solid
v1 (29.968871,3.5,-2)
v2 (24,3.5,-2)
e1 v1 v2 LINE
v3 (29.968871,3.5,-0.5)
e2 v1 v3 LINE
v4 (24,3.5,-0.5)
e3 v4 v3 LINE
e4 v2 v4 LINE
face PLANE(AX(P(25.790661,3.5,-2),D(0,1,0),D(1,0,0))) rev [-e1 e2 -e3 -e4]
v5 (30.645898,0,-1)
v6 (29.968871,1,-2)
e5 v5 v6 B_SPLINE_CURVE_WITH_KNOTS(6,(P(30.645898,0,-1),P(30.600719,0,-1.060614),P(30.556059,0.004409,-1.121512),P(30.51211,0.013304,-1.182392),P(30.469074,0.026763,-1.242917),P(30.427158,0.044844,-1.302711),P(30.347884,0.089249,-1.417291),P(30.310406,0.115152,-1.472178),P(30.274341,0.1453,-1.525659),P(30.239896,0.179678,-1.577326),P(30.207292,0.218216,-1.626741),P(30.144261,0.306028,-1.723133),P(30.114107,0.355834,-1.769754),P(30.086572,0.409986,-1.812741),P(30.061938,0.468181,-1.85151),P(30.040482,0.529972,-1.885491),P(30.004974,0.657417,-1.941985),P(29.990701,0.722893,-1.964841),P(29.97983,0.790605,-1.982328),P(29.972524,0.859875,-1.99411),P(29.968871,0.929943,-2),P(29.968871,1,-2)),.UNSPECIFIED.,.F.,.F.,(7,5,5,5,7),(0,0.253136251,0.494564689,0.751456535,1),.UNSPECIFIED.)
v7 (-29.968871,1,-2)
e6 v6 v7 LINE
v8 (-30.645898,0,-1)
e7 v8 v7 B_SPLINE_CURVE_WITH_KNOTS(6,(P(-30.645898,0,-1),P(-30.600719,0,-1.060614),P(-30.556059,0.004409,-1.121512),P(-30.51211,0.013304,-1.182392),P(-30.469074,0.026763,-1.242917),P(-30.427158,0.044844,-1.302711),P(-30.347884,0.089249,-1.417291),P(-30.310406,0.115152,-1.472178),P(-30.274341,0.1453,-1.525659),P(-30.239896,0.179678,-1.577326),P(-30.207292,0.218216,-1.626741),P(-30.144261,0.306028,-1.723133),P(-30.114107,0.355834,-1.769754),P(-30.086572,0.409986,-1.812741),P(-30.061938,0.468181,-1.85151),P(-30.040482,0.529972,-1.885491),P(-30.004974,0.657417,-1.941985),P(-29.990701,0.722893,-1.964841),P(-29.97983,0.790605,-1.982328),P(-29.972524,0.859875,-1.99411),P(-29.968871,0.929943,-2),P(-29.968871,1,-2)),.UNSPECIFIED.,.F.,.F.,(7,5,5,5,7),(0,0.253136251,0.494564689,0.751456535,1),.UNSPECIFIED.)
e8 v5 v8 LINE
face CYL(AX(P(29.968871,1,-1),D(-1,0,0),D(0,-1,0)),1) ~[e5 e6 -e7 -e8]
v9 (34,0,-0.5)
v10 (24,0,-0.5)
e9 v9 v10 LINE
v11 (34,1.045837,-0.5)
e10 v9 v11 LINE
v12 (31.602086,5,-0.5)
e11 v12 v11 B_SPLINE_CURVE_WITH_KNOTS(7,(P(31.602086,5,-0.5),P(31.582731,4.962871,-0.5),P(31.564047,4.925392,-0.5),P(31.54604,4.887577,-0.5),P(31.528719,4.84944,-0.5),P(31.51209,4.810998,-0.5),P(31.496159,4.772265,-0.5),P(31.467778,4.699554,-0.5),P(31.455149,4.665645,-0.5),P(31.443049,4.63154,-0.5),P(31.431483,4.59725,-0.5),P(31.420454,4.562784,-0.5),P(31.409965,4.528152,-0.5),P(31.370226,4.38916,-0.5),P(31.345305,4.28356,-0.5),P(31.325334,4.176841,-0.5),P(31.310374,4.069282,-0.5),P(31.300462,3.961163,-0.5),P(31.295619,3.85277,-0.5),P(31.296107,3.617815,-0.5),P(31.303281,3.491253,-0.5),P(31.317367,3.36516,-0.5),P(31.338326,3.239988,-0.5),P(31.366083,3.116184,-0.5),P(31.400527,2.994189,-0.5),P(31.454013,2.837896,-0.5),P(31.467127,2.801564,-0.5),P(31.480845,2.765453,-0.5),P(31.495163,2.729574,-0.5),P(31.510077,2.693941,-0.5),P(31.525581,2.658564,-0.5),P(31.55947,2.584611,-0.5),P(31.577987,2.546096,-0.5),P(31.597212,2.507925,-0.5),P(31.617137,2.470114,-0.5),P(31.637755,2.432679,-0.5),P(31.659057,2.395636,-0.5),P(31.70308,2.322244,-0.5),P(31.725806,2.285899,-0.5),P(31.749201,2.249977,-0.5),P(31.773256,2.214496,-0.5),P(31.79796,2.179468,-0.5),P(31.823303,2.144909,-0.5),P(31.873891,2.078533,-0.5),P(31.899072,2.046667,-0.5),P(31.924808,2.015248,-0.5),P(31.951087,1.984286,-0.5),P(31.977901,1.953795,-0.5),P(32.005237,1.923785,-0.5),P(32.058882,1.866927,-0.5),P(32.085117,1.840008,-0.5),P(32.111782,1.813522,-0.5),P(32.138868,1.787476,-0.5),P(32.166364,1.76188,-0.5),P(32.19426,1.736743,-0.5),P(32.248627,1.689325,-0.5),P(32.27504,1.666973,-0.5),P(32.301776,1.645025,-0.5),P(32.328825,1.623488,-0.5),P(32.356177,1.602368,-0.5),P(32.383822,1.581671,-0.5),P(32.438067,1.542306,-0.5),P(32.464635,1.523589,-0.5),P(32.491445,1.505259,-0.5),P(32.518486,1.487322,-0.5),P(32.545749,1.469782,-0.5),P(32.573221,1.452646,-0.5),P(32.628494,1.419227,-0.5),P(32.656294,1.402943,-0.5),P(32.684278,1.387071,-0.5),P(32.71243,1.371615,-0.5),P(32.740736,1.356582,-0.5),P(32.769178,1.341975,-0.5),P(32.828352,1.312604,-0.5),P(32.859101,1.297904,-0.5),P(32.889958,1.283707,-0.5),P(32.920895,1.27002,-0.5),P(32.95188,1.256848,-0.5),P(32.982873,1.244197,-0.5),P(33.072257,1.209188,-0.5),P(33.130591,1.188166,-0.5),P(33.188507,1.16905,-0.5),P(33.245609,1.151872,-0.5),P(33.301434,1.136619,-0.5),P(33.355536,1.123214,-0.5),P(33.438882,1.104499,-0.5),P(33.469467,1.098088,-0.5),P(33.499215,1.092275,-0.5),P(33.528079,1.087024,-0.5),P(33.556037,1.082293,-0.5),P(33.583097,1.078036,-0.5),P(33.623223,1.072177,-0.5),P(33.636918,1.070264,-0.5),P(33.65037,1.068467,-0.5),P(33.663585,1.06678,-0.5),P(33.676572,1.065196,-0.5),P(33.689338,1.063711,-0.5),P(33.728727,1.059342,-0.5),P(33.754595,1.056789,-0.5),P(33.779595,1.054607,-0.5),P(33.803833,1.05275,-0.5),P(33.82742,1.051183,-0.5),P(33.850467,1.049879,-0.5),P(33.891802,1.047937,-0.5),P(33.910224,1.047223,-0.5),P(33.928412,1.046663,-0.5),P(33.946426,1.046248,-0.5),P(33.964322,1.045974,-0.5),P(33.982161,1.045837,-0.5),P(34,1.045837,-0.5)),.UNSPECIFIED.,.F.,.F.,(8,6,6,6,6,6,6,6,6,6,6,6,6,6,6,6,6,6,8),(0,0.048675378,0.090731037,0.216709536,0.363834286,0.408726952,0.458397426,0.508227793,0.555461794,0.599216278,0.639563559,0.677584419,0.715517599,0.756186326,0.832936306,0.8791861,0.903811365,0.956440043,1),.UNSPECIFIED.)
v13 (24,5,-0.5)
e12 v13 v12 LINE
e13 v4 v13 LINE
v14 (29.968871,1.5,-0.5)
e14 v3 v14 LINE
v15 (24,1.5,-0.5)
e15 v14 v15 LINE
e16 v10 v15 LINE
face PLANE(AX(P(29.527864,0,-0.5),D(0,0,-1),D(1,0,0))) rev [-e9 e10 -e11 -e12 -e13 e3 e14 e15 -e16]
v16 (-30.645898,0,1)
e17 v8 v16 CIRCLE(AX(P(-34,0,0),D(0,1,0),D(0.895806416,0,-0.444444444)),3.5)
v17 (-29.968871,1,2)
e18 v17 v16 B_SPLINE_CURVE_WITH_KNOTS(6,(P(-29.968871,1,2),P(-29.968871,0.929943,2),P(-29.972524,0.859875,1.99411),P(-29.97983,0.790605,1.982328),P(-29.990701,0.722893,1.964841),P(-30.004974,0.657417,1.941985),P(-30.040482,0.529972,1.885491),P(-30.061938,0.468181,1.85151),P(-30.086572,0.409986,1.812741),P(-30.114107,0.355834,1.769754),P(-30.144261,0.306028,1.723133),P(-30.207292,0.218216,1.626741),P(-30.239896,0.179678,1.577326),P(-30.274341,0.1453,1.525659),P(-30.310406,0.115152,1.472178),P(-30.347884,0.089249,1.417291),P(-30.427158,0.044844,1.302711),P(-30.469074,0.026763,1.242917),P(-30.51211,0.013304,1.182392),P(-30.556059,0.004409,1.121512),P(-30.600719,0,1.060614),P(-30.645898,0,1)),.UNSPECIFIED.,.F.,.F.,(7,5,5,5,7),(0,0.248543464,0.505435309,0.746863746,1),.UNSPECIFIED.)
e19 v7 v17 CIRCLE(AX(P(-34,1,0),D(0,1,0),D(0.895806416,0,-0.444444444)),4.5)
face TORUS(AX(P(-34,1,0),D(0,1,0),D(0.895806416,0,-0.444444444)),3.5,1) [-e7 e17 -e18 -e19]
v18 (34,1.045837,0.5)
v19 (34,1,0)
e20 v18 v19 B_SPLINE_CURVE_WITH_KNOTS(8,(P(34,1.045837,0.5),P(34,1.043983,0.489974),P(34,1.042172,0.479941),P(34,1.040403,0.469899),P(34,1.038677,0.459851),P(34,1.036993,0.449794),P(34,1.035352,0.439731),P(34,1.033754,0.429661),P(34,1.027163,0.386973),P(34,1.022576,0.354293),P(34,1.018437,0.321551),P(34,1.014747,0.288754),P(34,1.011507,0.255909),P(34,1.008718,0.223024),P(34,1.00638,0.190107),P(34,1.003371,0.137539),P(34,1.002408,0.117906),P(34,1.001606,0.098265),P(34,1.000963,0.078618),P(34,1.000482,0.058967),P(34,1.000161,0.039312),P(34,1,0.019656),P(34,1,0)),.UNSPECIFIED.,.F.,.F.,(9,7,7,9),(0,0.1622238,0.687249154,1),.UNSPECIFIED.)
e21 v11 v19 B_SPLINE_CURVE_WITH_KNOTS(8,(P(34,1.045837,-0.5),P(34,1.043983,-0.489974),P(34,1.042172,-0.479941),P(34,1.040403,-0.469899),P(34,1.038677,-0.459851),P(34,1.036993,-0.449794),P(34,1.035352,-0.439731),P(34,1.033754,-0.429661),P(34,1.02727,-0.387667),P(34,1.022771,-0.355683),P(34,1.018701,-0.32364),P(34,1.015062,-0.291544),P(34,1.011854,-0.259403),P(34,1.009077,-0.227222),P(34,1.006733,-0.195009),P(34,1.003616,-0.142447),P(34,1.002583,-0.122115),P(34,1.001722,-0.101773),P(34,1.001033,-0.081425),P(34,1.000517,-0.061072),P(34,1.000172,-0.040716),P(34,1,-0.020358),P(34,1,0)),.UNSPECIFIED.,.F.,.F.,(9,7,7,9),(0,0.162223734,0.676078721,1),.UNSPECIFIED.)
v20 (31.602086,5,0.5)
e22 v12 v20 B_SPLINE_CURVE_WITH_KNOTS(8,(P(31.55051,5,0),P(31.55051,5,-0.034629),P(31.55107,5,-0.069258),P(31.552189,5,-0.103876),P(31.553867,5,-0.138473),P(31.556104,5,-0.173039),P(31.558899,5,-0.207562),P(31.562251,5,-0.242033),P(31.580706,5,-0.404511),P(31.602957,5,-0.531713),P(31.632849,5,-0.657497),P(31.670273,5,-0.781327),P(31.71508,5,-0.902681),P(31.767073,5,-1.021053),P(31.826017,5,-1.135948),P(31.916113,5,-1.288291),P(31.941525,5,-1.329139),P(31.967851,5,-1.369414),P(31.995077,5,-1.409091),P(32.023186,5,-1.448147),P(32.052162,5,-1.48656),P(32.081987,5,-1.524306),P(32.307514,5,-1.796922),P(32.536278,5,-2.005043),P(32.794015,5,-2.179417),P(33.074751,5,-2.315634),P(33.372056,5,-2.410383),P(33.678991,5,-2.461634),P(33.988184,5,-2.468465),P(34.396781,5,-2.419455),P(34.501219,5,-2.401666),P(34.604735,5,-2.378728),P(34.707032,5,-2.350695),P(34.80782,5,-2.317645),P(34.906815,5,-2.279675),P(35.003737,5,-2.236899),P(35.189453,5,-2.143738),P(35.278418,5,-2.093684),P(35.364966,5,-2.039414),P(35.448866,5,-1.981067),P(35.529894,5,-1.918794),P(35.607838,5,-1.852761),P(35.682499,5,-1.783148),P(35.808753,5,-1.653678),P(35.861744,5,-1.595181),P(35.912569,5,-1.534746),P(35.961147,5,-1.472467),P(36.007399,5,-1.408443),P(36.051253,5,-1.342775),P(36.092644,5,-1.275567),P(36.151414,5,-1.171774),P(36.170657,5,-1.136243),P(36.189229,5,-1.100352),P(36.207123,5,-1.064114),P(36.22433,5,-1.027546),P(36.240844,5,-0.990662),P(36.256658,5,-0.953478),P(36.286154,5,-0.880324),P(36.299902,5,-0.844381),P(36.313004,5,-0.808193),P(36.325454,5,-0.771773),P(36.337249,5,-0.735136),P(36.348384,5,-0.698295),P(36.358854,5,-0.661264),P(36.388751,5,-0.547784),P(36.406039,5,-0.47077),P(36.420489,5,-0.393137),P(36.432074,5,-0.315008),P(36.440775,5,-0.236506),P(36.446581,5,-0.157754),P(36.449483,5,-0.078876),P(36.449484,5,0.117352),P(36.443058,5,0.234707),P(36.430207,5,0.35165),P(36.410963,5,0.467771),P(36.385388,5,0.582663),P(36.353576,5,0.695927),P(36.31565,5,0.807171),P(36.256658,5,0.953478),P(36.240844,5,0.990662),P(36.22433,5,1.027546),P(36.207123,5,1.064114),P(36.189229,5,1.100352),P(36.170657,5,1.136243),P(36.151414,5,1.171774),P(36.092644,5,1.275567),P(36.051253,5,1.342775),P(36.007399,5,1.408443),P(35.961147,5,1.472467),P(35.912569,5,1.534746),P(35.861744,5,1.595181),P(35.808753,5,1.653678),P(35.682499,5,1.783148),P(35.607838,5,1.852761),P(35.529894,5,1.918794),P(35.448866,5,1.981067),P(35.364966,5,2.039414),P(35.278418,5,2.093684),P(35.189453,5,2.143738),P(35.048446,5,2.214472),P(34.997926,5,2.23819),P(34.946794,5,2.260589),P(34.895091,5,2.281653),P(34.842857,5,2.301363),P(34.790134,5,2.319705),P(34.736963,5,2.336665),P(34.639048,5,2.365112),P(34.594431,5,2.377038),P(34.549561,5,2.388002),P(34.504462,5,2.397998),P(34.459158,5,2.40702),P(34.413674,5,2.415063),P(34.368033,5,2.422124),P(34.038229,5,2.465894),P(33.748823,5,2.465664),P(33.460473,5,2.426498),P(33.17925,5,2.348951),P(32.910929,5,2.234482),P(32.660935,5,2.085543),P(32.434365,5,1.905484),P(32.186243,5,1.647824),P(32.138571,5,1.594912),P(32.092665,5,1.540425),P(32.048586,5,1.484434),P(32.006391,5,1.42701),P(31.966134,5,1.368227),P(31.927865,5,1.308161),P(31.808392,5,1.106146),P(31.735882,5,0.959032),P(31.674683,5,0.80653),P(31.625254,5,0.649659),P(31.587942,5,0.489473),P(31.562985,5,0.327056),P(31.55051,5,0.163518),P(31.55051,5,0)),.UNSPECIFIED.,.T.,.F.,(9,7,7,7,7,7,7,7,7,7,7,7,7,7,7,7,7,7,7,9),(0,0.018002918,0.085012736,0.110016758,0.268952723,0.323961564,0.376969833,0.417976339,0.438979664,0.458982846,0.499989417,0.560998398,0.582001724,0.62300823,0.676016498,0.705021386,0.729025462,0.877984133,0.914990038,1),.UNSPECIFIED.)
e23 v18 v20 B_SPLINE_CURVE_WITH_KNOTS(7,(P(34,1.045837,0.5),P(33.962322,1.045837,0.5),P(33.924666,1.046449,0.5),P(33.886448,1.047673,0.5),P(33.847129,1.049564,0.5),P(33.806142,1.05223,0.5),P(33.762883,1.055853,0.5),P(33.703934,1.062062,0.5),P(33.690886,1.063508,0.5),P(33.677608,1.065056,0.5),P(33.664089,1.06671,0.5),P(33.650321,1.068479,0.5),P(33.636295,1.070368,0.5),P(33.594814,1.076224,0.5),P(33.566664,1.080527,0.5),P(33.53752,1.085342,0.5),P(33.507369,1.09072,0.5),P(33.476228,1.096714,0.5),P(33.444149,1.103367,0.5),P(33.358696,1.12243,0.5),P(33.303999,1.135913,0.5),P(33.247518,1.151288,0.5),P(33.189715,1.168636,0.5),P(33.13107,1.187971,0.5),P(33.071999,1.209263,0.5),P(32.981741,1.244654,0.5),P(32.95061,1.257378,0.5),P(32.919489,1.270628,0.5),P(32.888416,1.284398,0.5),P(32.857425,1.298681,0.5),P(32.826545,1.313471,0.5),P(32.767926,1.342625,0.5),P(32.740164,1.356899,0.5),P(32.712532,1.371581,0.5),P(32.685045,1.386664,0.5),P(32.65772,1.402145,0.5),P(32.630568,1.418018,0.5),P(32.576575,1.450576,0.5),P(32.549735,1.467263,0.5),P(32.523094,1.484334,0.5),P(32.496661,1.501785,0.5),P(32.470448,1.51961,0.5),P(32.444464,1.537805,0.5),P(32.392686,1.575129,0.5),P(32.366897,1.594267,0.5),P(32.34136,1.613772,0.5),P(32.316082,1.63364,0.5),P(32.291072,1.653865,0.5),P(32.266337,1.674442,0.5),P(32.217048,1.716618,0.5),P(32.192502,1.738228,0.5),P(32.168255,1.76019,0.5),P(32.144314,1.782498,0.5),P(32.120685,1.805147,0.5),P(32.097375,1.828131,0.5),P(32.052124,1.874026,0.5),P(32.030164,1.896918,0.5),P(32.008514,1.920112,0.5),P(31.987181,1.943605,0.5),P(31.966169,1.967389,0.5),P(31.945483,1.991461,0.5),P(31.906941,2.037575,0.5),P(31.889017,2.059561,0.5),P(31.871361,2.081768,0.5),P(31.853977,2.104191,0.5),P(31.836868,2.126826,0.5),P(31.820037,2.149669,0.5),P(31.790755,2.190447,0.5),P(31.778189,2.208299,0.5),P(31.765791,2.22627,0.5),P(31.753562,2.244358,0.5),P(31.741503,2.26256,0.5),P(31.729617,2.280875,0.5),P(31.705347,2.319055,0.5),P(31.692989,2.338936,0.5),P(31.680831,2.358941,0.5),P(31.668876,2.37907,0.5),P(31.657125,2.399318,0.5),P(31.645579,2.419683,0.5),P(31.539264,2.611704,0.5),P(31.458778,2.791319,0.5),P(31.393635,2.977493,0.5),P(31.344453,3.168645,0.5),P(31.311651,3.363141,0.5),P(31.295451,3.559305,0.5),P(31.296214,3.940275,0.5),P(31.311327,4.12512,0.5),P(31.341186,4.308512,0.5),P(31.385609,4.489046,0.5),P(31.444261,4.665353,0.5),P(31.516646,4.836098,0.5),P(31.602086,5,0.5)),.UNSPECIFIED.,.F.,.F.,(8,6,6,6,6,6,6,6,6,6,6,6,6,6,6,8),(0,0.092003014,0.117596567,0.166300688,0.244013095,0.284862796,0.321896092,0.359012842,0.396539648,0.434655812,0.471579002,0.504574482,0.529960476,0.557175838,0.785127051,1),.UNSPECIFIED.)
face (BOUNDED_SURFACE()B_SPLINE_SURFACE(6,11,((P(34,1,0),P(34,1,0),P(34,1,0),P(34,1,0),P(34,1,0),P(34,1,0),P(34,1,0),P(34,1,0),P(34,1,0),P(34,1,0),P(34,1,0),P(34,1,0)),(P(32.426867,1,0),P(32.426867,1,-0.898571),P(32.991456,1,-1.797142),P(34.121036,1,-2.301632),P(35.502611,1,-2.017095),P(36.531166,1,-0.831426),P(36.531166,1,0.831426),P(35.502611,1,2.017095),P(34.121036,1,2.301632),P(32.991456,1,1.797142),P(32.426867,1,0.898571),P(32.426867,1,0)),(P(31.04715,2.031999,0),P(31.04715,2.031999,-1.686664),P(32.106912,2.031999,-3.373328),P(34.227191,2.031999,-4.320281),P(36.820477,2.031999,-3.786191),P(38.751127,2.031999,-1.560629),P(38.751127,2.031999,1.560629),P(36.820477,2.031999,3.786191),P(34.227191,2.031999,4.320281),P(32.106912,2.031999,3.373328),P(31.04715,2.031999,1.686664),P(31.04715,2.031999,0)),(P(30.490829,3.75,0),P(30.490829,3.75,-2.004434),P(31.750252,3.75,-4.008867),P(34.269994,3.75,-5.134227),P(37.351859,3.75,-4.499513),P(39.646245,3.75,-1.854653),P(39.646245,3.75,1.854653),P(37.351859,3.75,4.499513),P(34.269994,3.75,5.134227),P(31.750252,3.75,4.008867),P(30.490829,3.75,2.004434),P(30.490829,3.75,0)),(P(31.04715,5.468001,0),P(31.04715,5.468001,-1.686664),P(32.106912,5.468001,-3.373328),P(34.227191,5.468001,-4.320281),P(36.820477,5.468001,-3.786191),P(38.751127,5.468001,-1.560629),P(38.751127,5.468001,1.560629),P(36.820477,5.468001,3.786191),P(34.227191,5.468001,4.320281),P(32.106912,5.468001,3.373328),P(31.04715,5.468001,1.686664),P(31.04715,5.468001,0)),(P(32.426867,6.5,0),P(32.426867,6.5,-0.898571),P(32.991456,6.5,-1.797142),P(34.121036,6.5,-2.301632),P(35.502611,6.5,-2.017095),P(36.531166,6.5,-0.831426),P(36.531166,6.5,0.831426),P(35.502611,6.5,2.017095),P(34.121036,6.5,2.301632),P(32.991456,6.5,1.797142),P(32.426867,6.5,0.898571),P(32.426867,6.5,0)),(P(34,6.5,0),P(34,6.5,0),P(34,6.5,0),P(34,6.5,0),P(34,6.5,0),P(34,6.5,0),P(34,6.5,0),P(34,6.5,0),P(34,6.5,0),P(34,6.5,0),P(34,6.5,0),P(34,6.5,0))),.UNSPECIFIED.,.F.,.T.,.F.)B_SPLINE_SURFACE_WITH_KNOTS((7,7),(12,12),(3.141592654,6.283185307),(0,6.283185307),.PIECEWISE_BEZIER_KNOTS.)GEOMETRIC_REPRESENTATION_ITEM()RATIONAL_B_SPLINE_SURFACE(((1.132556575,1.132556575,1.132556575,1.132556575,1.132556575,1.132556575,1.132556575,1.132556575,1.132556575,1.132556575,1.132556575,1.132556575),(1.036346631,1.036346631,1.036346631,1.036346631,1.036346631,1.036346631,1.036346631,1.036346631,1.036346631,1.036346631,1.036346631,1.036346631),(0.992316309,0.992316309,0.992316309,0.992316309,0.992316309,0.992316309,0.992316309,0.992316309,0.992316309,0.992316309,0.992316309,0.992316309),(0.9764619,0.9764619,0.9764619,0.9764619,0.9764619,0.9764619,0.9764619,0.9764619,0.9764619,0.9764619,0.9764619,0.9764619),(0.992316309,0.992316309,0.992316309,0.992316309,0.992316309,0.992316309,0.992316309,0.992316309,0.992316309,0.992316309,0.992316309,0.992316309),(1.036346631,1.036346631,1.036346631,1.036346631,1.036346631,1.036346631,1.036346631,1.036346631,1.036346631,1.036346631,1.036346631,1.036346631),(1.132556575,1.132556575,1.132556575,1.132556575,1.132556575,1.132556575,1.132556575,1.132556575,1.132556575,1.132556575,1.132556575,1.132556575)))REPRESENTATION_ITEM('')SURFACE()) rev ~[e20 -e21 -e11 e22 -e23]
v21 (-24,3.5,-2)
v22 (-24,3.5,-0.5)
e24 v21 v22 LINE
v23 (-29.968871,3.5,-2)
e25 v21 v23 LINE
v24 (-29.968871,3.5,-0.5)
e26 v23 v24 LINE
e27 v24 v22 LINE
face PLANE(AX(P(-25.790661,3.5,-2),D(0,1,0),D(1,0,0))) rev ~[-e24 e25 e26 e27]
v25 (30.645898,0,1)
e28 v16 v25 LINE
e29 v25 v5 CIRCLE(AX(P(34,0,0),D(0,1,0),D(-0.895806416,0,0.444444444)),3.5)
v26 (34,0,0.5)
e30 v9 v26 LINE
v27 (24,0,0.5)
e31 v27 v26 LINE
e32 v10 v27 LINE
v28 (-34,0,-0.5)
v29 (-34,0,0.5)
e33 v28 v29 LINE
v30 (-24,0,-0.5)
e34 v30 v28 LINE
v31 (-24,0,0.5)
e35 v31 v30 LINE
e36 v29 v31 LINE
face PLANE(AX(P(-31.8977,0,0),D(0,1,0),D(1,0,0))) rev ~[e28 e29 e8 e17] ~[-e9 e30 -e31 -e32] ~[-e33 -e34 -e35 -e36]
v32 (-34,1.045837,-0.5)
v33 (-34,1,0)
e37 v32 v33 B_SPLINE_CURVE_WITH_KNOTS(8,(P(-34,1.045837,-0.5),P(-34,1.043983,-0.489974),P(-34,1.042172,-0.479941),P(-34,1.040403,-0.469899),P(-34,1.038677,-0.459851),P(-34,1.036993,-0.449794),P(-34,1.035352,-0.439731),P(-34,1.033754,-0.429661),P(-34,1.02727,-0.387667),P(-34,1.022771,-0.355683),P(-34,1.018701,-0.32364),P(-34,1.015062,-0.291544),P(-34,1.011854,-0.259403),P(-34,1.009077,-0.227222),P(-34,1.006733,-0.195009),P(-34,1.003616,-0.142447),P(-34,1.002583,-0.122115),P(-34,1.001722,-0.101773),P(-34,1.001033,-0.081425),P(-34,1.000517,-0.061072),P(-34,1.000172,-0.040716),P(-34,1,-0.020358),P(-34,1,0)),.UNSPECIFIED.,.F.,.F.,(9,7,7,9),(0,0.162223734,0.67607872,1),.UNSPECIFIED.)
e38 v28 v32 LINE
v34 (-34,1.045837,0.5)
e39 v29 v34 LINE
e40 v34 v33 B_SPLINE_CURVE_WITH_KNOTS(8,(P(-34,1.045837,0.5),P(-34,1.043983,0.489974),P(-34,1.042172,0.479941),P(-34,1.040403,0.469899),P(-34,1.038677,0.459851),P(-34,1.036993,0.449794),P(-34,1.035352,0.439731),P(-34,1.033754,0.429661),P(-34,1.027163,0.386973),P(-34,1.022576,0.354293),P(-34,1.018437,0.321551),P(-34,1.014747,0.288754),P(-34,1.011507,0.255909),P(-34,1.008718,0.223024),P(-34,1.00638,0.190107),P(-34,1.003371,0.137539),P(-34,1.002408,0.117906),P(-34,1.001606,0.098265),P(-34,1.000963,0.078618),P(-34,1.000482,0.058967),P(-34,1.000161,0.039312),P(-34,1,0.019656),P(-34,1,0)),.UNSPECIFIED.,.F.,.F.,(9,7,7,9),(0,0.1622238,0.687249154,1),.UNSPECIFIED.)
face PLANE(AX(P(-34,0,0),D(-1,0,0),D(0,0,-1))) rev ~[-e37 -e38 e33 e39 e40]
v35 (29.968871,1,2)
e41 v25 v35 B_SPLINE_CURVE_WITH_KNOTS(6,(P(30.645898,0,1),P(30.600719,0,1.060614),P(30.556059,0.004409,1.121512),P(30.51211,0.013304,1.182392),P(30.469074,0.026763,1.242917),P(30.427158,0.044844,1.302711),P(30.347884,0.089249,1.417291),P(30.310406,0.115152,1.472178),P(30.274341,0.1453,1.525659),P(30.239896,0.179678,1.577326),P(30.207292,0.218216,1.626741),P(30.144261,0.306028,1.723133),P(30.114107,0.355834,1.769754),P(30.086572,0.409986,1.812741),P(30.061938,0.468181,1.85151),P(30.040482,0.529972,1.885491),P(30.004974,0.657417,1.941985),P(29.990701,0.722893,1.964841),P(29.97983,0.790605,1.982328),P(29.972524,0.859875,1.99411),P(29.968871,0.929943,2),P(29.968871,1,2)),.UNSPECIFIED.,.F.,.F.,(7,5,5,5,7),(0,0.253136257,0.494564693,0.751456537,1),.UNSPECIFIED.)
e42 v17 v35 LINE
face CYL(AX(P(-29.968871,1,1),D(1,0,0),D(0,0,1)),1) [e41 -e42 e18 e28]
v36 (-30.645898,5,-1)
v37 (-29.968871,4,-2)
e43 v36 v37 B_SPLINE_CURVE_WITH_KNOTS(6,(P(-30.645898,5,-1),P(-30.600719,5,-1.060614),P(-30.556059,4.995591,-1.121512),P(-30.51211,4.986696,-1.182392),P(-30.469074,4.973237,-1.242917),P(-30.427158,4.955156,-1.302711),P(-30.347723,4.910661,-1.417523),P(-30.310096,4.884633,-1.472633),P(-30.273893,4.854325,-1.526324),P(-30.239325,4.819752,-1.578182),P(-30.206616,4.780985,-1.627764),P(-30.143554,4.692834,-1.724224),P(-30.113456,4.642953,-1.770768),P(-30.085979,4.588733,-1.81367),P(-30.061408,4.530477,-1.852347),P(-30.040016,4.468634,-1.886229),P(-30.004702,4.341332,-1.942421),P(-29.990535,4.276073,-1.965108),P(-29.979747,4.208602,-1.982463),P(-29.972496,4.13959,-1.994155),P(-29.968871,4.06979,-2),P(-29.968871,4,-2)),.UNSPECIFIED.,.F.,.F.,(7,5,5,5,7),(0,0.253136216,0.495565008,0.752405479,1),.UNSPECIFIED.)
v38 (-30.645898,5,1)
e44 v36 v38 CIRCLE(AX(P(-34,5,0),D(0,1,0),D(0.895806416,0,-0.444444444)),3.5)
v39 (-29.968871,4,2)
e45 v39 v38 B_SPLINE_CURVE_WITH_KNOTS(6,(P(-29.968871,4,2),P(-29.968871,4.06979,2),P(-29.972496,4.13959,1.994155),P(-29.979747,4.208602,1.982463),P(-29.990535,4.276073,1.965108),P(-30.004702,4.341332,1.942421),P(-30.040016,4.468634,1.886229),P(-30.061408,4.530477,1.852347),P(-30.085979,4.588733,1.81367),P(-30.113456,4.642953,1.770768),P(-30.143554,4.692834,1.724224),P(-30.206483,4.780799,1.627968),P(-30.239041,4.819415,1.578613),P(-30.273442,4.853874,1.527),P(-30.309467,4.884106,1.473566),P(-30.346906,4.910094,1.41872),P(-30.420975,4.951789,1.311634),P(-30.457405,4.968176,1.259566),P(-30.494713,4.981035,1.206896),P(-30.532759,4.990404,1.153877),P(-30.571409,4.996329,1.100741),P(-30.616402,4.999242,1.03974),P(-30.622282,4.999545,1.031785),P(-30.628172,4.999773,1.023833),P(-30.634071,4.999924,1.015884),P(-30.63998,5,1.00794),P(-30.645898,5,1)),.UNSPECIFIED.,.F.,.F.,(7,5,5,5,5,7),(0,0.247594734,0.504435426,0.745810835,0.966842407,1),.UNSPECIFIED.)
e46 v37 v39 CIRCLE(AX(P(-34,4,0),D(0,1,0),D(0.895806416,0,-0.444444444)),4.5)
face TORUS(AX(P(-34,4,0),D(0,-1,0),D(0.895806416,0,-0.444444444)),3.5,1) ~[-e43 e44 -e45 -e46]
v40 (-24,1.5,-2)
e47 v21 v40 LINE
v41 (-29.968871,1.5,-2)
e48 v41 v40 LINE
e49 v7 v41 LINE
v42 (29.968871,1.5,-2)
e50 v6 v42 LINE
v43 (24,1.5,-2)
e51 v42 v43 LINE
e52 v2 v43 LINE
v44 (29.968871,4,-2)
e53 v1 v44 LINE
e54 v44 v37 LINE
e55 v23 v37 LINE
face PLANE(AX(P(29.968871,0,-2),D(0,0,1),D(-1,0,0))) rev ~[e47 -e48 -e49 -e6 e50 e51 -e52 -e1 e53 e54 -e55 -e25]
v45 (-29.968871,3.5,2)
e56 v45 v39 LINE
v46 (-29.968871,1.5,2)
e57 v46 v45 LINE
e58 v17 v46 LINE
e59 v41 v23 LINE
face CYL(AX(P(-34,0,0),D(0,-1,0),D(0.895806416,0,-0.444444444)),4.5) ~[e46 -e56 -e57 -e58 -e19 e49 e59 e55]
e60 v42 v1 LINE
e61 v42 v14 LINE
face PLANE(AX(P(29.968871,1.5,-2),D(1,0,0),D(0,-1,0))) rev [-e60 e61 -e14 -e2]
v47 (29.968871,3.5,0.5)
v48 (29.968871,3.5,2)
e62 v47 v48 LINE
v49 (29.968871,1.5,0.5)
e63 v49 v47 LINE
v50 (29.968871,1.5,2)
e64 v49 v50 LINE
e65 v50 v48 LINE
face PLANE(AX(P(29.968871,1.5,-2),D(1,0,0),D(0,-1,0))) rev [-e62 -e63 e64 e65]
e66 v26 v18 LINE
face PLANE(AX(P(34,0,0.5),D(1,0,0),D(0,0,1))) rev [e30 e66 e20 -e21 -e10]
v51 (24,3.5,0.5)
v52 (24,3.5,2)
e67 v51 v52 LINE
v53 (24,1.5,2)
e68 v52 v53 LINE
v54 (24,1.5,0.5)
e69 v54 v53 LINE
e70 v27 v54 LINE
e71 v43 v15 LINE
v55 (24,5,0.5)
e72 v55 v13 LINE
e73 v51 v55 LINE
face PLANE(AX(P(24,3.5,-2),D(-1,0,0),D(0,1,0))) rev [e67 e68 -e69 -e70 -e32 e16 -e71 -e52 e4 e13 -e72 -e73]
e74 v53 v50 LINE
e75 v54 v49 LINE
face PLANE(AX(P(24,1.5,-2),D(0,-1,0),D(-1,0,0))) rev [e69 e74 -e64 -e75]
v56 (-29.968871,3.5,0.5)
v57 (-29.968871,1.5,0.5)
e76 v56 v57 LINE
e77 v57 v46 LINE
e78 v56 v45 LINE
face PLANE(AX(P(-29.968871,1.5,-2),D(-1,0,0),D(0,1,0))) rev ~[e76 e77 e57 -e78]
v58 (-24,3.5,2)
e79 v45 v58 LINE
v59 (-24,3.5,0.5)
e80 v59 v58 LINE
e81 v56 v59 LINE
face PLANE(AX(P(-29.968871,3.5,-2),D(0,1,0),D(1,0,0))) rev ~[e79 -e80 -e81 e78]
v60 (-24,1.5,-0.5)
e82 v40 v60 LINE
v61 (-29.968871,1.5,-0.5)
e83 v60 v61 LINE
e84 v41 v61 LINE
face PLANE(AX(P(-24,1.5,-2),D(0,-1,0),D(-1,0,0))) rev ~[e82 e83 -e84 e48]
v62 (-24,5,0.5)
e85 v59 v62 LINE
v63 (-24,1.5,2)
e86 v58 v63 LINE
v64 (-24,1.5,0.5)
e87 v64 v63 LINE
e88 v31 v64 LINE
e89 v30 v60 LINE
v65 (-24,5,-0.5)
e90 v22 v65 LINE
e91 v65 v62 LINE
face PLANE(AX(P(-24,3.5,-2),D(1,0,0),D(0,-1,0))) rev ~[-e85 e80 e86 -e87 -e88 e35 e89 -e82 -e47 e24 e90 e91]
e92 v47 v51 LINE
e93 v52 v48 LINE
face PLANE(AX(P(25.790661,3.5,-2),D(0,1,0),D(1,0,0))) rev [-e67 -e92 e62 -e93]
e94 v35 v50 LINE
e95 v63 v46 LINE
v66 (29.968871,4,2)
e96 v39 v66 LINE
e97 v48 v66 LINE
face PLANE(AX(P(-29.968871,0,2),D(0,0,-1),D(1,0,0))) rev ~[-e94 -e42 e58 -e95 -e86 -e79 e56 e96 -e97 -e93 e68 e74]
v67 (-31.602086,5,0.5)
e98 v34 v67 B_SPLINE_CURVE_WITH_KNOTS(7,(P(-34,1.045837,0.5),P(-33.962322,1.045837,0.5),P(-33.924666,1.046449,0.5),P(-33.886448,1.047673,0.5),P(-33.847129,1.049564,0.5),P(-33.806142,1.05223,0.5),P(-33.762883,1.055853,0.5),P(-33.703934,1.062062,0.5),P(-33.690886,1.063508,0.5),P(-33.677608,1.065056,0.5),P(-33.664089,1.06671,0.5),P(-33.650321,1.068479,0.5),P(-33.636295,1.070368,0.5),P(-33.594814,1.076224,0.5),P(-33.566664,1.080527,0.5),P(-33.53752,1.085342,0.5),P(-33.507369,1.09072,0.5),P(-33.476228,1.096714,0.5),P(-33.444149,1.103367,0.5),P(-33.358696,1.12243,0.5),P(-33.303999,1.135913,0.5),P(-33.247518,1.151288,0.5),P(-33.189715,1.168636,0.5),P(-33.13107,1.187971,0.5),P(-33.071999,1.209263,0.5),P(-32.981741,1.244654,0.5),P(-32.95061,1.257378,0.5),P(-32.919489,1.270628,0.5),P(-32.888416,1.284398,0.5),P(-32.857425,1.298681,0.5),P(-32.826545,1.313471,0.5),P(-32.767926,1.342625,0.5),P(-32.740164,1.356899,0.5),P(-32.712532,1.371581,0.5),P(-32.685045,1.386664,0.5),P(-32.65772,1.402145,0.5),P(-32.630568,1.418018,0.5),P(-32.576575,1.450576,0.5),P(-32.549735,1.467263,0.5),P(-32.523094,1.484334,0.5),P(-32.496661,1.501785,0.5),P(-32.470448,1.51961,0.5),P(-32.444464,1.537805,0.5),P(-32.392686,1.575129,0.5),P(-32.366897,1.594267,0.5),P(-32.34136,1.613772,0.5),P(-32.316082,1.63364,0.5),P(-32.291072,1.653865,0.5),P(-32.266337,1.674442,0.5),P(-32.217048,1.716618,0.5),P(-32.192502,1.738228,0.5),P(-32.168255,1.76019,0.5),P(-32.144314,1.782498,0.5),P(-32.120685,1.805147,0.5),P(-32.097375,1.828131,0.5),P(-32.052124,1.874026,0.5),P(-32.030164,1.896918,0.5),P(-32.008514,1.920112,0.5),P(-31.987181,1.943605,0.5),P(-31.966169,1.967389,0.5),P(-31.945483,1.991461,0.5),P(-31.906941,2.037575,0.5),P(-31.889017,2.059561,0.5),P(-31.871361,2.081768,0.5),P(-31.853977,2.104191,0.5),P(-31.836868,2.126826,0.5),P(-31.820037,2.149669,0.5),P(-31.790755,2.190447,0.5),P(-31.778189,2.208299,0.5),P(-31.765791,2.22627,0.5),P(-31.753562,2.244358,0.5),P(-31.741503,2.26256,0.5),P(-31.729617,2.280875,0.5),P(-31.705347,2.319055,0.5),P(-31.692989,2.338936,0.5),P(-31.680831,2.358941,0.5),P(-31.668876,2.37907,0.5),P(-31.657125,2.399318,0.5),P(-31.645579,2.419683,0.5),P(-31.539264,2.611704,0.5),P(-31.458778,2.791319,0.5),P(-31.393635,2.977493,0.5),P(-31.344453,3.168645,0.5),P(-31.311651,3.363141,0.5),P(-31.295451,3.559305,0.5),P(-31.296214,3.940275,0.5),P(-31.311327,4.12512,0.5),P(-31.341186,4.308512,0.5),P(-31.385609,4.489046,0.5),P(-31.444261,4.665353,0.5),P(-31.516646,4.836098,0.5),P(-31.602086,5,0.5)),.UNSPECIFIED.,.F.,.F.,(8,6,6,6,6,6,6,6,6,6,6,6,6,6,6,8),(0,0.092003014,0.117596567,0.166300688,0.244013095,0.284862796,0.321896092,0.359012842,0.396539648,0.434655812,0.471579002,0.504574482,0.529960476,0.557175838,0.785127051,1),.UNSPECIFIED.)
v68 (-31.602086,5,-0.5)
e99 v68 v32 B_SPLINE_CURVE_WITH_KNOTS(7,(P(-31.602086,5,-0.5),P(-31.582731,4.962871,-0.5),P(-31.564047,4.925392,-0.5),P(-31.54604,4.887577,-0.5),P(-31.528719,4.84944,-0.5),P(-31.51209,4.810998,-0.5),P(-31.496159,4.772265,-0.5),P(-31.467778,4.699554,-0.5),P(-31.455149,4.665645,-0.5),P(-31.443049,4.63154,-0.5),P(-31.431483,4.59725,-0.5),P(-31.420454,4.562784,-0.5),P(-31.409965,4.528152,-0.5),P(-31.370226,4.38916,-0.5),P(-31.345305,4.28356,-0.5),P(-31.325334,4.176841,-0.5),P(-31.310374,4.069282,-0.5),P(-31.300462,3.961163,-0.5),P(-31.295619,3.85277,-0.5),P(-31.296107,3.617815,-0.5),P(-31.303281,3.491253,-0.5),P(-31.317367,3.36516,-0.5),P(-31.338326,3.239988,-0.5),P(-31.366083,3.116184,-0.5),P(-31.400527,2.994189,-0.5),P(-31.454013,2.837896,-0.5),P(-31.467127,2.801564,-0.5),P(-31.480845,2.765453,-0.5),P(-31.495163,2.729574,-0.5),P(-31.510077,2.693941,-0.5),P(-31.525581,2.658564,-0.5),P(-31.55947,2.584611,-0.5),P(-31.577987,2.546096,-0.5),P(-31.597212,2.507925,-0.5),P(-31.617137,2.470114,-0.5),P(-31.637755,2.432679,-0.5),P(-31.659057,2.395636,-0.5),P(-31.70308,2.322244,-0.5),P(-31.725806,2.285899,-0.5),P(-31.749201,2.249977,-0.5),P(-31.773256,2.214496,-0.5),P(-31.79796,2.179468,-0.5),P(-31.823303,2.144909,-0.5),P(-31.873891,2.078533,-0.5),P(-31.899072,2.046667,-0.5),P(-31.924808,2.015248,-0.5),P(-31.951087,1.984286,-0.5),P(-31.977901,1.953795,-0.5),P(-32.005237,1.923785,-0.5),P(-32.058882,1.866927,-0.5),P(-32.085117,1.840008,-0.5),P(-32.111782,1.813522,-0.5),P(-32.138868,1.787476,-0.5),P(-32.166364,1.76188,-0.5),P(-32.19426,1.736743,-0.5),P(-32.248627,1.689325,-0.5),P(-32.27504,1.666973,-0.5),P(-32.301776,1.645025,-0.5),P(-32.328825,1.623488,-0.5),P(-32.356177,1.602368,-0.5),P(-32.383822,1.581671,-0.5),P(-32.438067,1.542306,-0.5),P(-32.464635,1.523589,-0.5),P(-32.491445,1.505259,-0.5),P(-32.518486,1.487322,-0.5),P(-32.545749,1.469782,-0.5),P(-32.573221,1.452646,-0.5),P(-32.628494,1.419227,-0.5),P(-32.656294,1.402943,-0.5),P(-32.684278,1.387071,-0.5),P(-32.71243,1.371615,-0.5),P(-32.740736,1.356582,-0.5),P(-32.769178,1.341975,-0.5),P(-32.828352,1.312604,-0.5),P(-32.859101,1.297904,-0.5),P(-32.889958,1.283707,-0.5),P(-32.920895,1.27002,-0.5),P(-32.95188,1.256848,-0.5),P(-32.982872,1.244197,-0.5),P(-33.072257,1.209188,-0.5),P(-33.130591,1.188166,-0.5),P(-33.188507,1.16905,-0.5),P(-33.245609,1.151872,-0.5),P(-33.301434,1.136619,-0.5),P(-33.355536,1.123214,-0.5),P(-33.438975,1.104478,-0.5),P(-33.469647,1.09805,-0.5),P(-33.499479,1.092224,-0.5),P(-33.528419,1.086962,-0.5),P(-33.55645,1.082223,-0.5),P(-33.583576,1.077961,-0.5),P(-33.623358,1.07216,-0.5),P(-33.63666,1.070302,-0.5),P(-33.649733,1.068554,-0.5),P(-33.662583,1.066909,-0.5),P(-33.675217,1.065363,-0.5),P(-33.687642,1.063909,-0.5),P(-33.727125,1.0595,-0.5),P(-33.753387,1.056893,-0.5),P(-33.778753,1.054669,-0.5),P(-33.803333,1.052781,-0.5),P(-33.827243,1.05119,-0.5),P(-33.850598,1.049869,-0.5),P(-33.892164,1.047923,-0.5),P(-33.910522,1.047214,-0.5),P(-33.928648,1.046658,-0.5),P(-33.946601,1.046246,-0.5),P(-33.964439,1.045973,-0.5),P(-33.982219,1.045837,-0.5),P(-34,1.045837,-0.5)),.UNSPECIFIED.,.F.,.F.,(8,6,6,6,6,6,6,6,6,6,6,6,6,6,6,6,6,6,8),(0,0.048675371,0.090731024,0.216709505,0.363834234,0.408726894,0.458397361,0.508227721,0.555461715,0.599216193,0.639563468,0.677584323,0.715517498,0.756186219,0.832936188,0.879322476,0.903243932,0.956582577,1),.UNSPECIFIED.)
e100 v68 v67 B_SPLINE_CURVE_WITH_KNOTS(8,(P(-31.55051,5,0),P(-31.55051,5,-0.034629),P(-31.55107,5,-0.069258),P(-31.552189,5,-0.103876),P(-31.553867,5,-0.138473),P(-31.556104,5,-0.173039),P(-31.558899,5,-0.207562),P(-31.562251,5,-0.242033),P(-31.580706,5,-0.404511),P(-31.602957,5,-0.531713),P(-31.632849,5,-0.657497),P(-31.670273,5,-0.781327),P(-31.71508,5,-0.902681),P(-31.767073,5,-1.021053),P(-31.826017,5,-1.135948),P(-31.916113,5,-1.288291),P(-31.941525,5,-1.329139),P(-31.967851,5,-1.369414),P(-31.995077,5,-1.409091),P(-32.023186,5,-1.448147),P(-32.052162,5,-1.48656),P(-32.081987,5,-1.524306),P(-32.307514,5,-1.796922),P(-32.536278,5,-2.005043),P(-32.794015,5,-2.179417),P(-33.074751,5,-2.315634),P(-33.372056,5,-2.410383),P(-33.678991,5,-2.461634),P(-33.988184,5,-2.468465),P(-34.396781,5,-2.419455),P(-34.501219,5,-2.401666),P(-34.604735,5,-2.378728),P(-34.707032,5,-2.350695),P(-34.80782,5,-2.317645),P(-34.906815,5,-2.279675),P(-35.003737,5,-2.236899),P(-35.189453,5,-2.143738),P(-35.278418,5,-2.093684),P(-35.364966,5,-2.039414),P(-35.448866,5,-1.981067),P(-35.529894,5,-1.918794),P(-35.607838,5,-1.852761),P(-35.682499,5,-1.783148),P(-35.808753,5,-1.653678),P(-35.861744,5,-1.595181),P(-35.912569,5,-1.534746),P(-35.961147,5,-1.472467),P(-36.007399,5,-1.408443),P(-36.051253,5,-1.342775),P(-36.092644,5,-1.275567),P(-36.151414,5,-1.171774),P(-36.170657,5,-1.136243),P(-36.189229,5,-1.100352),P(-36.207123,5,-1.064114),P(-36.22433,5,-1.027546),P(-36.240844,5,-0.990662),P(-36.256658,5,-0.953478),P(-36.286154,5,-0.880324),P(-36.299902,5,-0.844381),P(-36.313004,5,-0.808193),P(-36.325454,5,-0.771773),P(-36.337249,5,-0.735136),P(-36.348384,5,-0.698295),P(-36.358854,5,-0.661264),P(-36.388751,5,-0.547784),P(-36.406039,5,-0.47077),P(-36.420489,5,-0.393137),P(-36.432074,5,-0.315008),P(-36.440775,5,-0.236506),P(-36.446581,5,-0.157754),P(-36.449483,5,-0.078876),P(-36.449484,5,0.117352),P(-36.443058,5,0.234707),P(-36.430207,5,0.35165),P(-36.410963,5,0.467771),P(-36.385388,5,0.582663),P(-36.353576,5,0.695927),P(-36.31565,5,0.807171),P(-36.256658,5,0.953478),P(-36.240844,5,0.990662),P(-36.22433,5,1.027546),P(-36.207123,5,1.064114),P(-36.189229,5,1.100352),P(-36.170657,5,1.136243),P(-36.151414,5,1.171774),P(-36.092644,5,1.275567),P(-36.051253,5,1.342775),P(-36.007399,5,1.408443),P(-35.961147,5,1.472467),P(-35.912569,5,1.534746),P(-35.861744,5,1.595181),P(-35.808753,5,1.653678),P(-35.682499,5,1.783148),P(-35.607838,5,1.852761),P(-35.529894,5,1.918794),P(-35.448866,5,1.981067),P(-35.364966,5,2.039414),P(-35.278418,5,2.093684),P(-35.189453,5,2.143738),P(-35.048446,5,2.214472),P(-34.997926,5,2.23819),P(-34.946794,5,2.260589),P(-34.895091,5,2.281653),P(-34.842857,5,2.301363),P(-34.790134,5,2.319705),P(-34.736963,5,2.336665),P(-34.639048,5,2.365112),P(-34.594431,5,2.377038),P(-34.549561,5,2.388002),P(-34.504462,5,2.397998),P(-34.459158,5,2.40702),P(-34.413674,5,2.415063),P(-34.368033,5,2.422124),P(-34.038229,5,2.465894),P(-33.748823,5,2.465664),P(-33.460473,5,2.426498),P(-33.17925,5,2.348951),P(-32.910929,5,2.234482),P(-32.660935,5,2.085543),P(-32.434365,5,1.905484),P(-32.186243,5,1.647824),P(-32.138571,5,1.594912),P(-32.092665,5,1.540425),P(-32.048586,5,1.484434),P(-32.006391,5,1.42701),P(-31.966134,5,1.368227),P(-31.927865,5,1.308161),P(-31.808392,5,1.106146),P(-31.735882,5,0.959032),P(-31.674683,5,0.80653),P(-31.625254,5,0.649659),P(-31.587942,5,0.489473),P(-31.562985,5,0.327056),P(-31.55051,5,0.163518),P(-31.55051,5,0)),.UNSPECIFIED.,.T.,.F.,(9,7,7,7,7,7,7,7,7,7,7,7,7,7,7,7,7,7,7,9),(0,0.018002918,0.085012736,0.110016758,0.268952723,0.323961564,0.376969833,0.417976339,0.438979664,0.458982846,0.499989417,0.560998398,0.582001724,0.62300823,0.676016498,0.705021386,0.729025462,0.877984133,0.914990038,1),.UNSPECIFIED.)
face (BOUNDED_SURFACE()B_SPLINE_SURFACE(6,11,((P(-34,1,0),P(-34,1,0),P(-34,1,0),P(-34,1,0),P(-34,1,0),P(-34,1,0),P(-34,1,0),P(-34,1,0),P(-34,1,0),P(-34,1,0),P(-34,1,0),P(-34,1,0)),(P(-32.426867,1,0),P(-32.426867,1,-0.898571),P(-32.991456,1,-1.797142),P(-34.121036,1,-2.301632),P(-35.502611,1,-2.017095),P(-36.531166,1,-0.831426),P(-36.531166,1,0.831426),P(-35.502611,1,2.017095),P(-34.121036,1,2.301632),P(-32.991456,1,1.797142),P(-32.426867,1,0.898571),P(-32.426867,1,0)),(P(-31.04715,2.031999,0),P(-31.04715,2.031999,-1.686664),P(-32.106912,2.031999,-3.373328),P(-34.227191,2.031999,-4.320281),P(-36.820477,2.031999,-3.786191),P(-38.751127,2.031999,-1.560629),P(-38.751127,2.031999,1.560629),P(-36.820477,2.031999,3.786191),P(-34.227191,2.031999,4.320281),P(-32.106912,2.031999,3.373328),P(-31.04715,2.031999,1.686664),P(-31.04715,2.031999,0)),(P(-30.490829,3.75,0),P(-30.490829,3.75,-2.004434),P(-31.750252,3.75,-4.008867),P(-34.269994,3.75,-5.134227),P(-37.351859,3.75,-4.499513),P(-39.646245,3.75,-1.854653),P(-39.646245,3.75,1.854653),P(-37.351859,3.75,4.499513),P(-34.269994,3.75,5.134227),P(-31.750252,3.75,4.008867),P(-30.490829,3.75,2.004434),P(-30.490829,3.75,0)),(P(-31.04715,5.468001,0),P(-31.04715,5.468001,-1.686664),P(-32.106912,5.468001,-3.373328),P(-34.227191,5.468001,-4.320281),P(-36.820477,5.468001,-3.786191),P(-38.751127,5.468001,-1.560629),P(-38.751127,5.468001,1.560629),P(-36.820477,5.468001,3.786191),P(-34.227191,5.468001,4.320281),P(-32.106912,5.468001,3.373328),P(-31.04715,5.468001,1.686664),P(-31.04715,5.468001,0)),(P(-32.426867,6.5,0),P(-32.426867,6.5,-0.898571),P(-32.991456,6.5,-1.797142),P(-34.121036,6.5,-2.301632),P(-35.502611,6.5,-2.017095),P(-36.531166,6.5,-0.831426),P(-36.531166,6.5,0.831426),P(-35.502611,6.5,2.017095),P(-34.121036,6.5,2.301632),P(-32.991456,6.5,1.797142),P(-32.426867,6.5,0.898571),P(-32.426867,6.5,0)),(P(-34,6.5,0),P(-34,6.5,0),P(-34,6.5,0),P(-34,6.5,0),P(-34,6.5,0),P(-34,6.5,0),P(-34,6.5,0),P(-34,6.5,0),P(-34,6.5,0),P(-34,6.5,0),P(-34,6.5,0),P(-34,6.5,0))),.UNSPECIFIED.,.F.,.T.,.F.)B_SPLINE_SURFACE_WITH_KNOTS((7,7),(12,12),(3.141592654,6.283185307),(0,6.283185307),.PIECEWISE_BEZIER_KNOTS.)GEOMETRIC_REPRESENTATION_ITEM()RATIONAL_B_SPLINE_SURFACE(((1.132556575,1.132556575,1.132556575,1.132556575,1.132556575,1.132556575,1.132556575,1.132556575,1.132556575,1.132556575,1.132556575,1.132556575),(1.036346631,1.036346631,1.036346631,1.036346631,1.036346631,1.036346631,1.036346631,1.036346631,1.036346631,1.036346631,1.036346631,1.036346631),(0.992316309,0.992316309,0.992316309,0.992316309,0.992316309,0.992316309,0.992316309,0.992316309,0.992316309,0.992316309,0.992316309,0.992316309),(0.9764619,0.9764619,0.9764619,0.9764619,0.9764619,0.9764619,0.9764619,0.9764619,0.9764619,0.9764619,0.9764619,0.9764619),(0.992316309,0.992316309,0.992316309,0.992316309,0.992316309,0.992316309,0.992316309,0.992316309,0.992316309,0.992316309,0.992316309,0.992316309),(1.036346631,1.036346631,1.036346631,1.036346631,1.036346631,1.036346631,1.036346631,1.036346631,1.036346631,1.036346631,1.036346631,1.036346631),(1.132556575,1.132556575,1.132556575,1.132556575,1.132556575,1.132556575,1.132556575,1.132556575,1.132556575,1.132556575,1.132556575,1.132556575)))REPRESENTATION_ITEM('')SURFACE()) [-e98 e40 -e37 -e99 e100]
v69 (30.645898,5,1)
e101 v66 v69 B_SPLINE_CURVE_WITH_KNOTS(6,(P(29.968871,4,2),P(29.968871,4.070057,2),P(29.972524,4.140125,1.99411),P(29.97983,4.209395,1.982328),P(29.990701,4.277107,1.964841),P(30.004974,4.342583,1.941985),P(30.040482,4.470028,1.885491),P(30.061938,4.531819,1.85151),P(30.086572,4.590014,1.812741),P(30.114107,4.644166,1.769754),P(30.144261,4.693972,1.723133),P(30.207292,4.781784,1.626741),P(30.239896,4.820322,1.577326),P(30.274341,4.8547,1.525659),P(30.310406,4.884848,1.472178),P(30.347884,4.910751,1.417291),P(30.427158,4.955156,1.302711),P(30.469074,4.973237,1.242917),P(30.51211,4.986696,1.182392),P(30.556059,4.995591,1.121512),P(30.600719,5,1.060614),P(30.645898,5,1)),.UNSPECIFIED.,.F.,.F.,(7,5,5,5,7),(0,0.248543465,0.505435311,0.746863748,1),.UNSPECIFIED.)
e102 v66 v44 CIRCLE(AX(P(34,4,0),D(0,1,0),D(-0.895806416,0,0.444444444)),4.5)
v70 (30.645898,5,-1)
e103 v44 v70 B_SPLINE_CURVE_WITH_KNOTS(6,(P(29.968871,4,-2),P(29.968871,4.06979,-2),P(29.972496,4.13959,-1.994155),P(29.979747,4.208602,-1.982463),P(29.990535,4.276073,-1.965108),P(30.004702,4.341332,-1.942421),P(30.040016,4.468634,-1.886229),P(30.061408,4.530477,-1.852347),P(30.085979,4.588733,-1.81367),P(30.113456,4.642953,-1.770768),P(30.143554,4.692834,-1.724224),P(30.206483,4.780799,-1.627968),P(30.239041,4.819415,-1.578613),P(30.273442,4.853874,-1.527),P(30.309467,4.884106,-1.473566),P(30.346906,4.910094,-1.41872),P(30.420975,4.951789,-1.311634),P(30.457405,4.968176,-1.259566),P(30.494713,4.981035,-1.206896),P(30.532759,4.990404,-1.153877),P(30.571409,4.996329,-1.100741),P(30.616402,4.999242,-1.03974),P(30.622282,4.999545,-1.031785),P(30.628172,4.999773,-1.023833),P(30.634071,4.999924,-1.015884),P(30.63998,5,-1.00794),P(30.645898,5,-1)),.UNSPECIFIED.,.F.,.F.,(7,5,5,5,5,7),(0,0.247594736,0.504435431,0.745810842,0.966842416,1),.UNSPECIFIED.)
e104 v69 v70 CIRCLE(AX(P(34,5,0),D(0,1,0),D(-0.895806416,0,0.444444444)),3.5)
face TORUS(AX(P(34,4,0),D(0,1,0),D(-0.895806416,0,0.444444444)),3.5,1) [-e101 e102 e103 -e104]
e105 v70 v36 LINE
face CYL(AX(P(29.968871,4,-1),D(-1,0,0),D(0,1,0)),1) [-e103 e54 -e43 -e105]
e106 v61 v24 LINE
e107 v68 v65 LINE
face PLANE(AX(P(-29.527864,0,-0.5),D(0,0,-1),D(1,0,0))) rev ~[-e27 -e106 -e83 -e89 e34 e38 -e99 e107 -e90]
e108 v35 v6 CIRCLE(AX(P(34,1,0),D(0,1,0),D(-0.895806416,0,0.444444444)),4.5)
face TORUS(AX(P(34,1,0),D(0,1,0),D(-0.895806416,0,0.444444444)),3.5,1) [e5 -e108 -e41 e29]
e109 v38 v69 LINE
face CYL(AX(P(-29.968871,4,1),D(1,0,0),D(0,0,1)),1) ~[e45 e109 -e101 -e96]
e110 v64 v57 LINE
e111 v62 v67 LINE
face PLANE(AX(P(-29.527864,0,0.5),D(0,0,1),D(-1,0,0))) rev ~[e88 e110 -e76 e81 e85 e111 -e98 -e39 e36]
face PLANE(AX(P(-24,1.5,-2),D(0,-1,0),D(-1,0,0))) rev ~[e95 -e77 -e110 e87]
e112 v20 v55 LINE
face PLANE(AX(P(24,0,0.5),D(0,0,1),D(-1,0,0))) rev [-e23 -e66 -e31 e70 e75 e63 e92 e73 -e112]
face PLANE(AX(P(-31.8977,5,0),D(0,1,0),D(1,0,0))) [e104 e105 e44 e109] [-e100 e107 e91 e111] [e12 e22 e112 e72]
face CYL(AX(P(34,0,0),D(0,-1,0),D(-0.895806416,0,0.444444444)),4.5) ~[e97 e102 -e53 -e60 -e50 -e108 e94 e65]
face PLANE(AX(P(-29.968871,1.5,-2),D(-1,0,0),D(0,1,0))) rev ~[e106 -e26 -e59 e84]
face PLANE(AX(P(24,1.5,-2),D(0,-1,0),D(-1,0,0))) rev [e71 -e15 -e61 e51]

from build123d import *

# Parameters (mm, degrees)
BOSS_EXTRUDE1_DEPTH = 5
CUT_EXTRUDE1_REACH  = 41.083
CUT_EXTRUDE2_REACH  = 41.364
FILLET1_R           = 1


with BuildPart() as part:
    # Sketch1 → Boss-Extrude1 (new body)
    with BuildSketch(Plane(origin=(0, 0, 0), x_dir=(1, 0, 0), z_dir=(0, 1, 0))):
        with BuildLine():
            Line((-33.99999999999999, 2), (-33.99999999999999, -2))
            Line((-33.99999999999999, -2), (-29.968871125850622, -2))
            ThreePointArc((-29.968871125850665, -1.9999999999998734), (-29.618785560277153, -1.0271124734730797), (-29.5, -1.1e-15))
            ThreePointArc((-29.5, 0), (-29.618785560277153, 1.0271124734730805), (-29.968871125850665, 1.9999999999998725))
            Line((-29.968871125850622, 2), (-33.99999999999999, 2))
        make_face()
        with BuildLine():
            Line((-29.968871125850622, -2), (-33.99999999999999, -2))
            Line((-33.99999999999999, -2), (-33.99999999999999, 2))
            Line((-33.99999999999999, 2), (-29.968871125850622, 2))
            ThreePointArc((-29.968871125850665, 1.9999999999998725), (-38.499999999999986, 5.5e-16), (-29.968871125850665, -1.9999999999998734))
        make_face()
        with BuildLine():
            ThreePointArc((-29.5, -1.1e-15), (-29.618785560277153, -1.0271124734730797), (-29.968871125850665, -1.9999999999998734))
            Line((-29.968871125850622, -2), (29.96887112585072, -2))
            ThreePointArc((29.96887112585073, -1.9999999999999722), (29.500000000000014, 5.5e-16), (29.96887112585073, 1.9999999999999731))
            Line((29.96887112585072, 2), (-29.968871125850622, 2))
            ThreePointArc((-29.968871125850665, 1.9999999999998725), (-29.618785560277153, 1.0271124734730805), (-29.5, 0))
        make_face()
        with BuildLine():
            ThreePointArc((29.96887112585073, 1.9999999999999731), (29.500000000000014, 5.5e-16), (29.96887112585073, -1.9999999999999722))
            Line((29.96887112585072, -2), (34.00000000000001, -2))
            Line((34.00000000000001, -2), (34.00000000000001, 2))
            Line((34.00000000000001, 2), (29.96887112585072, 2))
        make_face()
        with BuildLine():
            Line((34.00000000000001, -2), (29.96887112585072, -2))
            ThreePointArc((29.96887112585073, -1.9999999999999722), (35.02711247347314, -4.38121443972283), (38.5, -1.1e-15))
            ThreePointArc((38.5, 0), (35.02711247347314, 4.381214439722829), (29.96887112585073, 1.9999999999999731))
            Line((29.96887112585072, 2), (34.00000000000001, 2))
            Line((34.00000000000001, 2), (34.00000000000001, -2))
        make_face()
    extrude(amount=BOSS_EXTRUDE1_DEPTH)

    # Cut-Sweep1: sweep along a path in Sketch2
    with BuildLine(Plane(origin=(0, 5, 0), x_dir=(1, 0, 0), z_dir=(0, 1, 0))) as cut_sweep1_path:
        CenterArc((-33.99999999999999, 0), 4.499999999999991, 0, 360)
    # 3DSketch1 → Cut-Sweep1 (sweep, cut)
    with BuildSketch(Plane(origin=(-33.99999999999999, 5, 0), x_dir=(0, -1, 0), z_dir=(-1, 0, 0))):
        with BuildLine():
            Line((0, 0), (-1.5000000000000004, 0))
            ThreePointArc((-1.5000000000000004, 0), (1.25, 2.75), (4, 0))
            Line((4, 0), (0, 0))
        make_face()
    cut_sweep1 = sweep(path=cut_sweep1_path.line, mode=Mode.SUBTRACT)

    # Mirror1: Cut-Sweep1 across plane
    add(cut_sweep1.mirror(Plane(origin=(0, 0, 0), x_dir=(0, 0, 1), z_dir=(1, 0, 0))), mode=Mode.SUBTRACT)

    # Cut-Extrude1: up to this face of the body (flat: up to its plane)
    cut_extrude1_end = Plane(part.part.faces().sort_by_distance((0, 5, -2.639e-06))[0])
    # Sketch3 → Cut-Extrude1 (cut, up to the picked face)
    with BuildSketch(Plane.XZ, mode=Mode.PRIVATE) as cut_extrude1_sk1:
        with BuildLine():
            ThreePointArc((-29.52786404500042, 0.49999999999997785), (-29.506971411314076, 0.2503879015666308), (-29.5, 0))
            Line((-29.5, 0), (-23.999999999999993, 0))
            Line((-23.999999999999993, 0), (-23.999999999999993, 0.5))
            Line((-23.999999999999993, 0.5), (-29.527864045000417, 0.5))
        make_face()
    cut_extrude1_tool1 = split(extrude(cut_extrude1_sk1.sketch, amount=-CUT_EXTRUDE1_REACH, mode=Mode.PRIVATE), bisect_by=cut_extrude1_end, keep=Keep.BOTH, mode=Mode.PRIVATE)
    # Sketch3 → Cut-Extrude1 (cut, up to the picked face)
    with BuildSketch(Plane.XZ, mode=Mode.PRIVATE) as cut_extrude1_sk2:
        with BuildLine():
            Line((-23.999999999999993, 0), (-29.5, 0))
            ThreePointArc((-29.5, -1.1e-15), (-29.506971411314076, -0.25038790156662954), (-29.52786404500042, -0.49999999999997824))
            Line((-29.527864045000417, -0.5), (-23.999999999999993, -0.5))
            Line((-23.999999999999993, -0.5), (-23.999999999999993, 0))
        make_face()
    cut_extrude1_tool2 = split(extrude(cut_extrude1_sk2.sketch, amount=-CUT_EXTRUDE1_REACH, mode=Mode.PRIVATE), bisect_by=cut_extrude1_end, keep=Keep.BOTH, mode=Mode.PRIVATE)
    # Sketch3 → Cut-Extrude1 (cut, up to the picked face)
    with BuildSketch(Plane.XZ, mode=Mode.PRIVATE) as cut_extrude1_sk3:
        with BuildLine():
            Line((-33.99999999999999, 0.5), (-33.99999999999999, 0))
            Line((-33.99999999999999, 0), (-29.5, 0))
            ThreePointArc((-29.5, 0), (-29.506971411314076, 0.2503879015666308), (-29.52786404500042, 0.49999999999997785))
            Line((-29.527864045000417, 0.5), (-33.99999999999999, 0.5))
        make_face()
    cut_extrude1_tool3 = split(extrude(cut_extrude1_sk3.sketch, amount=-CUT_EXTRUDE1_REACH, mode=Mode.PRIVATE), bisect_by=cut_extrude1_end, keep=Keep.BOTH, mode=Mode.PRIVATE)
    # Sketch3 → Cut-Extrude1 (cut, up to the picked face)
    with BuildSketch(Plane.XZ, mode=Mode.PRIVATE) as cut_extrude1_sk4:
        with BuildLine():
            Line((-29.5, 0), (-33.99999999999999, 0))
            Line((-33.99999999999999, 0), (-33.99999999999999, -0.5))
            Line((-33.99999999999999, -0.5), (-29.527864045000417, -0.5))
            ThreePointArc((-29.52786404500042, -0.49999999999997824), (-29.506971411314076, -0.25038790156662954), (-29.5, -1.1e-15))
        make_face()
    cut_extrude1_tool4 = split(extrude(cut_extrude1_sk4.sketch, amount=-CUT_EXTRUDE1_REACH, mode=Mode.PRIVATE), bisect_by=cut_extrude1_end, keep=Keep.BOTH, mode=Mode.PRIVATE)
    cut_extrude1_1 = cut_extrude1_tool1.solids().sort_by(Axis((-26.754644, 0, 0.250211), (0, 1, 0)))[0]
    add(cut_extrude1_1, mode=Mode.SUBTRACT)
    cut_extrude1_2 = cut_extrude1_tool2.solids().sort_by(Axis((-26.754644, 0, -0.250211), (0, 1, 0)))[0]
    add(cut_extrude1_2, mode=Mode.SUBTRACT)
    cut_extrude1_3 = cut_extrude1_tool3.solids().sort_by(Axis((-31.754631, 0, 0.249742), (0, 1, 0)))[0]
    add(cut_extrude1_3, mode=Mode.SUBTRACT)
    cut_extrude1_4 = cut_extrude1_tool4.solids().sort_by(Axis((-31.754631, 0, -0.249742), (0, 1, 0)))[0]
    add(cut_extrude1_4, mode=Mode.SUBTRACT)
    cut_extrude1 = cut_extrude1_1 + cut_extrude1_2 + cut_extrude1_3 + cut_extrude1_4  # Cut-Extrude1 as one shape, for the pattern or mirror that repeats it

    # Mirror2: Cut-Extrude1 across plane
    add(cut_extrude1.mirror(Plane(origin=(0, 0, 0), x_dir=(0, 0, 1), z_dir=(1, 0, 0))), mode=Mode.SUBTRACT)

    # Cut-Extrude2: up to this face of the body (flat: up to its plane)
    cut_extrude2_end = Plane(part.part.faces().sort_by_distance((0, 2.5, 2))[0])
    # Sketch4 → Cut-Extrude2 (cut, up to the picked face)
    with BuildSketch(Plane(origin=(0, 0, -2), x_dir=(-1, 0, 0), z_dir=(0, 0, -1)), mode=Mode.PRIVATE) as cut_extrude2_sk1:
        Polygon((23.99999999999999, 1.5000000000000009), (28.178209788095508, 1.5000000000000009), (25.790661337755214, 3.5000000000000004), (23.99999999999999, 3.500000000000001), align=None)
    cut_extrude2_tool1 = split(extrude(cut_extrude2_sk1.sketch, amount=-CUT_EXTRUDE2_REACH, mode=Mode.PRIVATE), bisect_by=cut_extrude2_end, keep=Keep.BOTH, mode=Mode.PRIVATE)
    # Sketch4 → Cut-Extrude2 (cut, up to the picked face)
    with BuildSketch(Plane(origin=(0, 0, -2), x_dir=(-1, 0, 0), z_dir=(0, 0, -1)), mode=Mode.PRIVATE) as cut_extrude2_sk2:
        Polygon((25.790661337755214, 3.5000000000000004), (28.178209788095508, 1.5000000000000007), (29.96887112585073, 1.5000000000000009), (29.96887112585073, 3.500000000000001), align=None)
    cut_extrude2_tool2 = split(extrude(cut_extrude2_sk2.sketch, amount=-CUT_EXTRUDE2_REACH, mode=Mode.PRIVATE), bisect_by=cut_extrude2_end, keep=Keep.BOTH, mode=Mode.PRIVATE)
    cut_extrude2_1 = cut_extrude2_tool1.solids().sort_by(Axis((-25.571803, 2.366667, -2), (0, 0, 1)))[0]
    add(cut_extrude2_1, mode=Mode.SUBTRACT)
    cut_extrude2_2 = cut_extrude2_tool2.solids().sort_by(Axis((-28.397068, 2.633333, -2), (0, 0, 1)))[0]
    add(cut_extrude2_2, mode=Mode.SUBTRACT)
    cut_extrude2 = cut_extrude2_1 + cut_extrude2_2  # Cut-Extrude2 as one shape, for the pattern or mirror that repeats it

    # Mirror3: Cut-Extrude2 across plane
    add(cut_extrude2.mirror(Plane(origin=(0, 0, 0), x_dir=(0, 0, 1), z_dir=(1, 0, 0))), mode=Mode.SUBTRACT)

    # Fillet1
    fillet1_edges = [part.edges().sort_by_distance(p)[0] for p in [
        (3.908e-14, 5, 1.9999999999999665),
        (38.5, 5, 4.44e-15),
        (3.553e-14, 5, -1.999999999999966),
        (-38.50000000000023, 5, 5.89e-14),
        (3.553e-14, 0, -1.999999999999966),
        (38.5, 0, -2e-15),
        (3.908e-14, 0, 1.9999999999999665),
        (-38.50000000000024, 0, -6.573e-14),
    ]]
    fillet(fillet1_edges, radius=FILLET1_R)


solid = part.part
